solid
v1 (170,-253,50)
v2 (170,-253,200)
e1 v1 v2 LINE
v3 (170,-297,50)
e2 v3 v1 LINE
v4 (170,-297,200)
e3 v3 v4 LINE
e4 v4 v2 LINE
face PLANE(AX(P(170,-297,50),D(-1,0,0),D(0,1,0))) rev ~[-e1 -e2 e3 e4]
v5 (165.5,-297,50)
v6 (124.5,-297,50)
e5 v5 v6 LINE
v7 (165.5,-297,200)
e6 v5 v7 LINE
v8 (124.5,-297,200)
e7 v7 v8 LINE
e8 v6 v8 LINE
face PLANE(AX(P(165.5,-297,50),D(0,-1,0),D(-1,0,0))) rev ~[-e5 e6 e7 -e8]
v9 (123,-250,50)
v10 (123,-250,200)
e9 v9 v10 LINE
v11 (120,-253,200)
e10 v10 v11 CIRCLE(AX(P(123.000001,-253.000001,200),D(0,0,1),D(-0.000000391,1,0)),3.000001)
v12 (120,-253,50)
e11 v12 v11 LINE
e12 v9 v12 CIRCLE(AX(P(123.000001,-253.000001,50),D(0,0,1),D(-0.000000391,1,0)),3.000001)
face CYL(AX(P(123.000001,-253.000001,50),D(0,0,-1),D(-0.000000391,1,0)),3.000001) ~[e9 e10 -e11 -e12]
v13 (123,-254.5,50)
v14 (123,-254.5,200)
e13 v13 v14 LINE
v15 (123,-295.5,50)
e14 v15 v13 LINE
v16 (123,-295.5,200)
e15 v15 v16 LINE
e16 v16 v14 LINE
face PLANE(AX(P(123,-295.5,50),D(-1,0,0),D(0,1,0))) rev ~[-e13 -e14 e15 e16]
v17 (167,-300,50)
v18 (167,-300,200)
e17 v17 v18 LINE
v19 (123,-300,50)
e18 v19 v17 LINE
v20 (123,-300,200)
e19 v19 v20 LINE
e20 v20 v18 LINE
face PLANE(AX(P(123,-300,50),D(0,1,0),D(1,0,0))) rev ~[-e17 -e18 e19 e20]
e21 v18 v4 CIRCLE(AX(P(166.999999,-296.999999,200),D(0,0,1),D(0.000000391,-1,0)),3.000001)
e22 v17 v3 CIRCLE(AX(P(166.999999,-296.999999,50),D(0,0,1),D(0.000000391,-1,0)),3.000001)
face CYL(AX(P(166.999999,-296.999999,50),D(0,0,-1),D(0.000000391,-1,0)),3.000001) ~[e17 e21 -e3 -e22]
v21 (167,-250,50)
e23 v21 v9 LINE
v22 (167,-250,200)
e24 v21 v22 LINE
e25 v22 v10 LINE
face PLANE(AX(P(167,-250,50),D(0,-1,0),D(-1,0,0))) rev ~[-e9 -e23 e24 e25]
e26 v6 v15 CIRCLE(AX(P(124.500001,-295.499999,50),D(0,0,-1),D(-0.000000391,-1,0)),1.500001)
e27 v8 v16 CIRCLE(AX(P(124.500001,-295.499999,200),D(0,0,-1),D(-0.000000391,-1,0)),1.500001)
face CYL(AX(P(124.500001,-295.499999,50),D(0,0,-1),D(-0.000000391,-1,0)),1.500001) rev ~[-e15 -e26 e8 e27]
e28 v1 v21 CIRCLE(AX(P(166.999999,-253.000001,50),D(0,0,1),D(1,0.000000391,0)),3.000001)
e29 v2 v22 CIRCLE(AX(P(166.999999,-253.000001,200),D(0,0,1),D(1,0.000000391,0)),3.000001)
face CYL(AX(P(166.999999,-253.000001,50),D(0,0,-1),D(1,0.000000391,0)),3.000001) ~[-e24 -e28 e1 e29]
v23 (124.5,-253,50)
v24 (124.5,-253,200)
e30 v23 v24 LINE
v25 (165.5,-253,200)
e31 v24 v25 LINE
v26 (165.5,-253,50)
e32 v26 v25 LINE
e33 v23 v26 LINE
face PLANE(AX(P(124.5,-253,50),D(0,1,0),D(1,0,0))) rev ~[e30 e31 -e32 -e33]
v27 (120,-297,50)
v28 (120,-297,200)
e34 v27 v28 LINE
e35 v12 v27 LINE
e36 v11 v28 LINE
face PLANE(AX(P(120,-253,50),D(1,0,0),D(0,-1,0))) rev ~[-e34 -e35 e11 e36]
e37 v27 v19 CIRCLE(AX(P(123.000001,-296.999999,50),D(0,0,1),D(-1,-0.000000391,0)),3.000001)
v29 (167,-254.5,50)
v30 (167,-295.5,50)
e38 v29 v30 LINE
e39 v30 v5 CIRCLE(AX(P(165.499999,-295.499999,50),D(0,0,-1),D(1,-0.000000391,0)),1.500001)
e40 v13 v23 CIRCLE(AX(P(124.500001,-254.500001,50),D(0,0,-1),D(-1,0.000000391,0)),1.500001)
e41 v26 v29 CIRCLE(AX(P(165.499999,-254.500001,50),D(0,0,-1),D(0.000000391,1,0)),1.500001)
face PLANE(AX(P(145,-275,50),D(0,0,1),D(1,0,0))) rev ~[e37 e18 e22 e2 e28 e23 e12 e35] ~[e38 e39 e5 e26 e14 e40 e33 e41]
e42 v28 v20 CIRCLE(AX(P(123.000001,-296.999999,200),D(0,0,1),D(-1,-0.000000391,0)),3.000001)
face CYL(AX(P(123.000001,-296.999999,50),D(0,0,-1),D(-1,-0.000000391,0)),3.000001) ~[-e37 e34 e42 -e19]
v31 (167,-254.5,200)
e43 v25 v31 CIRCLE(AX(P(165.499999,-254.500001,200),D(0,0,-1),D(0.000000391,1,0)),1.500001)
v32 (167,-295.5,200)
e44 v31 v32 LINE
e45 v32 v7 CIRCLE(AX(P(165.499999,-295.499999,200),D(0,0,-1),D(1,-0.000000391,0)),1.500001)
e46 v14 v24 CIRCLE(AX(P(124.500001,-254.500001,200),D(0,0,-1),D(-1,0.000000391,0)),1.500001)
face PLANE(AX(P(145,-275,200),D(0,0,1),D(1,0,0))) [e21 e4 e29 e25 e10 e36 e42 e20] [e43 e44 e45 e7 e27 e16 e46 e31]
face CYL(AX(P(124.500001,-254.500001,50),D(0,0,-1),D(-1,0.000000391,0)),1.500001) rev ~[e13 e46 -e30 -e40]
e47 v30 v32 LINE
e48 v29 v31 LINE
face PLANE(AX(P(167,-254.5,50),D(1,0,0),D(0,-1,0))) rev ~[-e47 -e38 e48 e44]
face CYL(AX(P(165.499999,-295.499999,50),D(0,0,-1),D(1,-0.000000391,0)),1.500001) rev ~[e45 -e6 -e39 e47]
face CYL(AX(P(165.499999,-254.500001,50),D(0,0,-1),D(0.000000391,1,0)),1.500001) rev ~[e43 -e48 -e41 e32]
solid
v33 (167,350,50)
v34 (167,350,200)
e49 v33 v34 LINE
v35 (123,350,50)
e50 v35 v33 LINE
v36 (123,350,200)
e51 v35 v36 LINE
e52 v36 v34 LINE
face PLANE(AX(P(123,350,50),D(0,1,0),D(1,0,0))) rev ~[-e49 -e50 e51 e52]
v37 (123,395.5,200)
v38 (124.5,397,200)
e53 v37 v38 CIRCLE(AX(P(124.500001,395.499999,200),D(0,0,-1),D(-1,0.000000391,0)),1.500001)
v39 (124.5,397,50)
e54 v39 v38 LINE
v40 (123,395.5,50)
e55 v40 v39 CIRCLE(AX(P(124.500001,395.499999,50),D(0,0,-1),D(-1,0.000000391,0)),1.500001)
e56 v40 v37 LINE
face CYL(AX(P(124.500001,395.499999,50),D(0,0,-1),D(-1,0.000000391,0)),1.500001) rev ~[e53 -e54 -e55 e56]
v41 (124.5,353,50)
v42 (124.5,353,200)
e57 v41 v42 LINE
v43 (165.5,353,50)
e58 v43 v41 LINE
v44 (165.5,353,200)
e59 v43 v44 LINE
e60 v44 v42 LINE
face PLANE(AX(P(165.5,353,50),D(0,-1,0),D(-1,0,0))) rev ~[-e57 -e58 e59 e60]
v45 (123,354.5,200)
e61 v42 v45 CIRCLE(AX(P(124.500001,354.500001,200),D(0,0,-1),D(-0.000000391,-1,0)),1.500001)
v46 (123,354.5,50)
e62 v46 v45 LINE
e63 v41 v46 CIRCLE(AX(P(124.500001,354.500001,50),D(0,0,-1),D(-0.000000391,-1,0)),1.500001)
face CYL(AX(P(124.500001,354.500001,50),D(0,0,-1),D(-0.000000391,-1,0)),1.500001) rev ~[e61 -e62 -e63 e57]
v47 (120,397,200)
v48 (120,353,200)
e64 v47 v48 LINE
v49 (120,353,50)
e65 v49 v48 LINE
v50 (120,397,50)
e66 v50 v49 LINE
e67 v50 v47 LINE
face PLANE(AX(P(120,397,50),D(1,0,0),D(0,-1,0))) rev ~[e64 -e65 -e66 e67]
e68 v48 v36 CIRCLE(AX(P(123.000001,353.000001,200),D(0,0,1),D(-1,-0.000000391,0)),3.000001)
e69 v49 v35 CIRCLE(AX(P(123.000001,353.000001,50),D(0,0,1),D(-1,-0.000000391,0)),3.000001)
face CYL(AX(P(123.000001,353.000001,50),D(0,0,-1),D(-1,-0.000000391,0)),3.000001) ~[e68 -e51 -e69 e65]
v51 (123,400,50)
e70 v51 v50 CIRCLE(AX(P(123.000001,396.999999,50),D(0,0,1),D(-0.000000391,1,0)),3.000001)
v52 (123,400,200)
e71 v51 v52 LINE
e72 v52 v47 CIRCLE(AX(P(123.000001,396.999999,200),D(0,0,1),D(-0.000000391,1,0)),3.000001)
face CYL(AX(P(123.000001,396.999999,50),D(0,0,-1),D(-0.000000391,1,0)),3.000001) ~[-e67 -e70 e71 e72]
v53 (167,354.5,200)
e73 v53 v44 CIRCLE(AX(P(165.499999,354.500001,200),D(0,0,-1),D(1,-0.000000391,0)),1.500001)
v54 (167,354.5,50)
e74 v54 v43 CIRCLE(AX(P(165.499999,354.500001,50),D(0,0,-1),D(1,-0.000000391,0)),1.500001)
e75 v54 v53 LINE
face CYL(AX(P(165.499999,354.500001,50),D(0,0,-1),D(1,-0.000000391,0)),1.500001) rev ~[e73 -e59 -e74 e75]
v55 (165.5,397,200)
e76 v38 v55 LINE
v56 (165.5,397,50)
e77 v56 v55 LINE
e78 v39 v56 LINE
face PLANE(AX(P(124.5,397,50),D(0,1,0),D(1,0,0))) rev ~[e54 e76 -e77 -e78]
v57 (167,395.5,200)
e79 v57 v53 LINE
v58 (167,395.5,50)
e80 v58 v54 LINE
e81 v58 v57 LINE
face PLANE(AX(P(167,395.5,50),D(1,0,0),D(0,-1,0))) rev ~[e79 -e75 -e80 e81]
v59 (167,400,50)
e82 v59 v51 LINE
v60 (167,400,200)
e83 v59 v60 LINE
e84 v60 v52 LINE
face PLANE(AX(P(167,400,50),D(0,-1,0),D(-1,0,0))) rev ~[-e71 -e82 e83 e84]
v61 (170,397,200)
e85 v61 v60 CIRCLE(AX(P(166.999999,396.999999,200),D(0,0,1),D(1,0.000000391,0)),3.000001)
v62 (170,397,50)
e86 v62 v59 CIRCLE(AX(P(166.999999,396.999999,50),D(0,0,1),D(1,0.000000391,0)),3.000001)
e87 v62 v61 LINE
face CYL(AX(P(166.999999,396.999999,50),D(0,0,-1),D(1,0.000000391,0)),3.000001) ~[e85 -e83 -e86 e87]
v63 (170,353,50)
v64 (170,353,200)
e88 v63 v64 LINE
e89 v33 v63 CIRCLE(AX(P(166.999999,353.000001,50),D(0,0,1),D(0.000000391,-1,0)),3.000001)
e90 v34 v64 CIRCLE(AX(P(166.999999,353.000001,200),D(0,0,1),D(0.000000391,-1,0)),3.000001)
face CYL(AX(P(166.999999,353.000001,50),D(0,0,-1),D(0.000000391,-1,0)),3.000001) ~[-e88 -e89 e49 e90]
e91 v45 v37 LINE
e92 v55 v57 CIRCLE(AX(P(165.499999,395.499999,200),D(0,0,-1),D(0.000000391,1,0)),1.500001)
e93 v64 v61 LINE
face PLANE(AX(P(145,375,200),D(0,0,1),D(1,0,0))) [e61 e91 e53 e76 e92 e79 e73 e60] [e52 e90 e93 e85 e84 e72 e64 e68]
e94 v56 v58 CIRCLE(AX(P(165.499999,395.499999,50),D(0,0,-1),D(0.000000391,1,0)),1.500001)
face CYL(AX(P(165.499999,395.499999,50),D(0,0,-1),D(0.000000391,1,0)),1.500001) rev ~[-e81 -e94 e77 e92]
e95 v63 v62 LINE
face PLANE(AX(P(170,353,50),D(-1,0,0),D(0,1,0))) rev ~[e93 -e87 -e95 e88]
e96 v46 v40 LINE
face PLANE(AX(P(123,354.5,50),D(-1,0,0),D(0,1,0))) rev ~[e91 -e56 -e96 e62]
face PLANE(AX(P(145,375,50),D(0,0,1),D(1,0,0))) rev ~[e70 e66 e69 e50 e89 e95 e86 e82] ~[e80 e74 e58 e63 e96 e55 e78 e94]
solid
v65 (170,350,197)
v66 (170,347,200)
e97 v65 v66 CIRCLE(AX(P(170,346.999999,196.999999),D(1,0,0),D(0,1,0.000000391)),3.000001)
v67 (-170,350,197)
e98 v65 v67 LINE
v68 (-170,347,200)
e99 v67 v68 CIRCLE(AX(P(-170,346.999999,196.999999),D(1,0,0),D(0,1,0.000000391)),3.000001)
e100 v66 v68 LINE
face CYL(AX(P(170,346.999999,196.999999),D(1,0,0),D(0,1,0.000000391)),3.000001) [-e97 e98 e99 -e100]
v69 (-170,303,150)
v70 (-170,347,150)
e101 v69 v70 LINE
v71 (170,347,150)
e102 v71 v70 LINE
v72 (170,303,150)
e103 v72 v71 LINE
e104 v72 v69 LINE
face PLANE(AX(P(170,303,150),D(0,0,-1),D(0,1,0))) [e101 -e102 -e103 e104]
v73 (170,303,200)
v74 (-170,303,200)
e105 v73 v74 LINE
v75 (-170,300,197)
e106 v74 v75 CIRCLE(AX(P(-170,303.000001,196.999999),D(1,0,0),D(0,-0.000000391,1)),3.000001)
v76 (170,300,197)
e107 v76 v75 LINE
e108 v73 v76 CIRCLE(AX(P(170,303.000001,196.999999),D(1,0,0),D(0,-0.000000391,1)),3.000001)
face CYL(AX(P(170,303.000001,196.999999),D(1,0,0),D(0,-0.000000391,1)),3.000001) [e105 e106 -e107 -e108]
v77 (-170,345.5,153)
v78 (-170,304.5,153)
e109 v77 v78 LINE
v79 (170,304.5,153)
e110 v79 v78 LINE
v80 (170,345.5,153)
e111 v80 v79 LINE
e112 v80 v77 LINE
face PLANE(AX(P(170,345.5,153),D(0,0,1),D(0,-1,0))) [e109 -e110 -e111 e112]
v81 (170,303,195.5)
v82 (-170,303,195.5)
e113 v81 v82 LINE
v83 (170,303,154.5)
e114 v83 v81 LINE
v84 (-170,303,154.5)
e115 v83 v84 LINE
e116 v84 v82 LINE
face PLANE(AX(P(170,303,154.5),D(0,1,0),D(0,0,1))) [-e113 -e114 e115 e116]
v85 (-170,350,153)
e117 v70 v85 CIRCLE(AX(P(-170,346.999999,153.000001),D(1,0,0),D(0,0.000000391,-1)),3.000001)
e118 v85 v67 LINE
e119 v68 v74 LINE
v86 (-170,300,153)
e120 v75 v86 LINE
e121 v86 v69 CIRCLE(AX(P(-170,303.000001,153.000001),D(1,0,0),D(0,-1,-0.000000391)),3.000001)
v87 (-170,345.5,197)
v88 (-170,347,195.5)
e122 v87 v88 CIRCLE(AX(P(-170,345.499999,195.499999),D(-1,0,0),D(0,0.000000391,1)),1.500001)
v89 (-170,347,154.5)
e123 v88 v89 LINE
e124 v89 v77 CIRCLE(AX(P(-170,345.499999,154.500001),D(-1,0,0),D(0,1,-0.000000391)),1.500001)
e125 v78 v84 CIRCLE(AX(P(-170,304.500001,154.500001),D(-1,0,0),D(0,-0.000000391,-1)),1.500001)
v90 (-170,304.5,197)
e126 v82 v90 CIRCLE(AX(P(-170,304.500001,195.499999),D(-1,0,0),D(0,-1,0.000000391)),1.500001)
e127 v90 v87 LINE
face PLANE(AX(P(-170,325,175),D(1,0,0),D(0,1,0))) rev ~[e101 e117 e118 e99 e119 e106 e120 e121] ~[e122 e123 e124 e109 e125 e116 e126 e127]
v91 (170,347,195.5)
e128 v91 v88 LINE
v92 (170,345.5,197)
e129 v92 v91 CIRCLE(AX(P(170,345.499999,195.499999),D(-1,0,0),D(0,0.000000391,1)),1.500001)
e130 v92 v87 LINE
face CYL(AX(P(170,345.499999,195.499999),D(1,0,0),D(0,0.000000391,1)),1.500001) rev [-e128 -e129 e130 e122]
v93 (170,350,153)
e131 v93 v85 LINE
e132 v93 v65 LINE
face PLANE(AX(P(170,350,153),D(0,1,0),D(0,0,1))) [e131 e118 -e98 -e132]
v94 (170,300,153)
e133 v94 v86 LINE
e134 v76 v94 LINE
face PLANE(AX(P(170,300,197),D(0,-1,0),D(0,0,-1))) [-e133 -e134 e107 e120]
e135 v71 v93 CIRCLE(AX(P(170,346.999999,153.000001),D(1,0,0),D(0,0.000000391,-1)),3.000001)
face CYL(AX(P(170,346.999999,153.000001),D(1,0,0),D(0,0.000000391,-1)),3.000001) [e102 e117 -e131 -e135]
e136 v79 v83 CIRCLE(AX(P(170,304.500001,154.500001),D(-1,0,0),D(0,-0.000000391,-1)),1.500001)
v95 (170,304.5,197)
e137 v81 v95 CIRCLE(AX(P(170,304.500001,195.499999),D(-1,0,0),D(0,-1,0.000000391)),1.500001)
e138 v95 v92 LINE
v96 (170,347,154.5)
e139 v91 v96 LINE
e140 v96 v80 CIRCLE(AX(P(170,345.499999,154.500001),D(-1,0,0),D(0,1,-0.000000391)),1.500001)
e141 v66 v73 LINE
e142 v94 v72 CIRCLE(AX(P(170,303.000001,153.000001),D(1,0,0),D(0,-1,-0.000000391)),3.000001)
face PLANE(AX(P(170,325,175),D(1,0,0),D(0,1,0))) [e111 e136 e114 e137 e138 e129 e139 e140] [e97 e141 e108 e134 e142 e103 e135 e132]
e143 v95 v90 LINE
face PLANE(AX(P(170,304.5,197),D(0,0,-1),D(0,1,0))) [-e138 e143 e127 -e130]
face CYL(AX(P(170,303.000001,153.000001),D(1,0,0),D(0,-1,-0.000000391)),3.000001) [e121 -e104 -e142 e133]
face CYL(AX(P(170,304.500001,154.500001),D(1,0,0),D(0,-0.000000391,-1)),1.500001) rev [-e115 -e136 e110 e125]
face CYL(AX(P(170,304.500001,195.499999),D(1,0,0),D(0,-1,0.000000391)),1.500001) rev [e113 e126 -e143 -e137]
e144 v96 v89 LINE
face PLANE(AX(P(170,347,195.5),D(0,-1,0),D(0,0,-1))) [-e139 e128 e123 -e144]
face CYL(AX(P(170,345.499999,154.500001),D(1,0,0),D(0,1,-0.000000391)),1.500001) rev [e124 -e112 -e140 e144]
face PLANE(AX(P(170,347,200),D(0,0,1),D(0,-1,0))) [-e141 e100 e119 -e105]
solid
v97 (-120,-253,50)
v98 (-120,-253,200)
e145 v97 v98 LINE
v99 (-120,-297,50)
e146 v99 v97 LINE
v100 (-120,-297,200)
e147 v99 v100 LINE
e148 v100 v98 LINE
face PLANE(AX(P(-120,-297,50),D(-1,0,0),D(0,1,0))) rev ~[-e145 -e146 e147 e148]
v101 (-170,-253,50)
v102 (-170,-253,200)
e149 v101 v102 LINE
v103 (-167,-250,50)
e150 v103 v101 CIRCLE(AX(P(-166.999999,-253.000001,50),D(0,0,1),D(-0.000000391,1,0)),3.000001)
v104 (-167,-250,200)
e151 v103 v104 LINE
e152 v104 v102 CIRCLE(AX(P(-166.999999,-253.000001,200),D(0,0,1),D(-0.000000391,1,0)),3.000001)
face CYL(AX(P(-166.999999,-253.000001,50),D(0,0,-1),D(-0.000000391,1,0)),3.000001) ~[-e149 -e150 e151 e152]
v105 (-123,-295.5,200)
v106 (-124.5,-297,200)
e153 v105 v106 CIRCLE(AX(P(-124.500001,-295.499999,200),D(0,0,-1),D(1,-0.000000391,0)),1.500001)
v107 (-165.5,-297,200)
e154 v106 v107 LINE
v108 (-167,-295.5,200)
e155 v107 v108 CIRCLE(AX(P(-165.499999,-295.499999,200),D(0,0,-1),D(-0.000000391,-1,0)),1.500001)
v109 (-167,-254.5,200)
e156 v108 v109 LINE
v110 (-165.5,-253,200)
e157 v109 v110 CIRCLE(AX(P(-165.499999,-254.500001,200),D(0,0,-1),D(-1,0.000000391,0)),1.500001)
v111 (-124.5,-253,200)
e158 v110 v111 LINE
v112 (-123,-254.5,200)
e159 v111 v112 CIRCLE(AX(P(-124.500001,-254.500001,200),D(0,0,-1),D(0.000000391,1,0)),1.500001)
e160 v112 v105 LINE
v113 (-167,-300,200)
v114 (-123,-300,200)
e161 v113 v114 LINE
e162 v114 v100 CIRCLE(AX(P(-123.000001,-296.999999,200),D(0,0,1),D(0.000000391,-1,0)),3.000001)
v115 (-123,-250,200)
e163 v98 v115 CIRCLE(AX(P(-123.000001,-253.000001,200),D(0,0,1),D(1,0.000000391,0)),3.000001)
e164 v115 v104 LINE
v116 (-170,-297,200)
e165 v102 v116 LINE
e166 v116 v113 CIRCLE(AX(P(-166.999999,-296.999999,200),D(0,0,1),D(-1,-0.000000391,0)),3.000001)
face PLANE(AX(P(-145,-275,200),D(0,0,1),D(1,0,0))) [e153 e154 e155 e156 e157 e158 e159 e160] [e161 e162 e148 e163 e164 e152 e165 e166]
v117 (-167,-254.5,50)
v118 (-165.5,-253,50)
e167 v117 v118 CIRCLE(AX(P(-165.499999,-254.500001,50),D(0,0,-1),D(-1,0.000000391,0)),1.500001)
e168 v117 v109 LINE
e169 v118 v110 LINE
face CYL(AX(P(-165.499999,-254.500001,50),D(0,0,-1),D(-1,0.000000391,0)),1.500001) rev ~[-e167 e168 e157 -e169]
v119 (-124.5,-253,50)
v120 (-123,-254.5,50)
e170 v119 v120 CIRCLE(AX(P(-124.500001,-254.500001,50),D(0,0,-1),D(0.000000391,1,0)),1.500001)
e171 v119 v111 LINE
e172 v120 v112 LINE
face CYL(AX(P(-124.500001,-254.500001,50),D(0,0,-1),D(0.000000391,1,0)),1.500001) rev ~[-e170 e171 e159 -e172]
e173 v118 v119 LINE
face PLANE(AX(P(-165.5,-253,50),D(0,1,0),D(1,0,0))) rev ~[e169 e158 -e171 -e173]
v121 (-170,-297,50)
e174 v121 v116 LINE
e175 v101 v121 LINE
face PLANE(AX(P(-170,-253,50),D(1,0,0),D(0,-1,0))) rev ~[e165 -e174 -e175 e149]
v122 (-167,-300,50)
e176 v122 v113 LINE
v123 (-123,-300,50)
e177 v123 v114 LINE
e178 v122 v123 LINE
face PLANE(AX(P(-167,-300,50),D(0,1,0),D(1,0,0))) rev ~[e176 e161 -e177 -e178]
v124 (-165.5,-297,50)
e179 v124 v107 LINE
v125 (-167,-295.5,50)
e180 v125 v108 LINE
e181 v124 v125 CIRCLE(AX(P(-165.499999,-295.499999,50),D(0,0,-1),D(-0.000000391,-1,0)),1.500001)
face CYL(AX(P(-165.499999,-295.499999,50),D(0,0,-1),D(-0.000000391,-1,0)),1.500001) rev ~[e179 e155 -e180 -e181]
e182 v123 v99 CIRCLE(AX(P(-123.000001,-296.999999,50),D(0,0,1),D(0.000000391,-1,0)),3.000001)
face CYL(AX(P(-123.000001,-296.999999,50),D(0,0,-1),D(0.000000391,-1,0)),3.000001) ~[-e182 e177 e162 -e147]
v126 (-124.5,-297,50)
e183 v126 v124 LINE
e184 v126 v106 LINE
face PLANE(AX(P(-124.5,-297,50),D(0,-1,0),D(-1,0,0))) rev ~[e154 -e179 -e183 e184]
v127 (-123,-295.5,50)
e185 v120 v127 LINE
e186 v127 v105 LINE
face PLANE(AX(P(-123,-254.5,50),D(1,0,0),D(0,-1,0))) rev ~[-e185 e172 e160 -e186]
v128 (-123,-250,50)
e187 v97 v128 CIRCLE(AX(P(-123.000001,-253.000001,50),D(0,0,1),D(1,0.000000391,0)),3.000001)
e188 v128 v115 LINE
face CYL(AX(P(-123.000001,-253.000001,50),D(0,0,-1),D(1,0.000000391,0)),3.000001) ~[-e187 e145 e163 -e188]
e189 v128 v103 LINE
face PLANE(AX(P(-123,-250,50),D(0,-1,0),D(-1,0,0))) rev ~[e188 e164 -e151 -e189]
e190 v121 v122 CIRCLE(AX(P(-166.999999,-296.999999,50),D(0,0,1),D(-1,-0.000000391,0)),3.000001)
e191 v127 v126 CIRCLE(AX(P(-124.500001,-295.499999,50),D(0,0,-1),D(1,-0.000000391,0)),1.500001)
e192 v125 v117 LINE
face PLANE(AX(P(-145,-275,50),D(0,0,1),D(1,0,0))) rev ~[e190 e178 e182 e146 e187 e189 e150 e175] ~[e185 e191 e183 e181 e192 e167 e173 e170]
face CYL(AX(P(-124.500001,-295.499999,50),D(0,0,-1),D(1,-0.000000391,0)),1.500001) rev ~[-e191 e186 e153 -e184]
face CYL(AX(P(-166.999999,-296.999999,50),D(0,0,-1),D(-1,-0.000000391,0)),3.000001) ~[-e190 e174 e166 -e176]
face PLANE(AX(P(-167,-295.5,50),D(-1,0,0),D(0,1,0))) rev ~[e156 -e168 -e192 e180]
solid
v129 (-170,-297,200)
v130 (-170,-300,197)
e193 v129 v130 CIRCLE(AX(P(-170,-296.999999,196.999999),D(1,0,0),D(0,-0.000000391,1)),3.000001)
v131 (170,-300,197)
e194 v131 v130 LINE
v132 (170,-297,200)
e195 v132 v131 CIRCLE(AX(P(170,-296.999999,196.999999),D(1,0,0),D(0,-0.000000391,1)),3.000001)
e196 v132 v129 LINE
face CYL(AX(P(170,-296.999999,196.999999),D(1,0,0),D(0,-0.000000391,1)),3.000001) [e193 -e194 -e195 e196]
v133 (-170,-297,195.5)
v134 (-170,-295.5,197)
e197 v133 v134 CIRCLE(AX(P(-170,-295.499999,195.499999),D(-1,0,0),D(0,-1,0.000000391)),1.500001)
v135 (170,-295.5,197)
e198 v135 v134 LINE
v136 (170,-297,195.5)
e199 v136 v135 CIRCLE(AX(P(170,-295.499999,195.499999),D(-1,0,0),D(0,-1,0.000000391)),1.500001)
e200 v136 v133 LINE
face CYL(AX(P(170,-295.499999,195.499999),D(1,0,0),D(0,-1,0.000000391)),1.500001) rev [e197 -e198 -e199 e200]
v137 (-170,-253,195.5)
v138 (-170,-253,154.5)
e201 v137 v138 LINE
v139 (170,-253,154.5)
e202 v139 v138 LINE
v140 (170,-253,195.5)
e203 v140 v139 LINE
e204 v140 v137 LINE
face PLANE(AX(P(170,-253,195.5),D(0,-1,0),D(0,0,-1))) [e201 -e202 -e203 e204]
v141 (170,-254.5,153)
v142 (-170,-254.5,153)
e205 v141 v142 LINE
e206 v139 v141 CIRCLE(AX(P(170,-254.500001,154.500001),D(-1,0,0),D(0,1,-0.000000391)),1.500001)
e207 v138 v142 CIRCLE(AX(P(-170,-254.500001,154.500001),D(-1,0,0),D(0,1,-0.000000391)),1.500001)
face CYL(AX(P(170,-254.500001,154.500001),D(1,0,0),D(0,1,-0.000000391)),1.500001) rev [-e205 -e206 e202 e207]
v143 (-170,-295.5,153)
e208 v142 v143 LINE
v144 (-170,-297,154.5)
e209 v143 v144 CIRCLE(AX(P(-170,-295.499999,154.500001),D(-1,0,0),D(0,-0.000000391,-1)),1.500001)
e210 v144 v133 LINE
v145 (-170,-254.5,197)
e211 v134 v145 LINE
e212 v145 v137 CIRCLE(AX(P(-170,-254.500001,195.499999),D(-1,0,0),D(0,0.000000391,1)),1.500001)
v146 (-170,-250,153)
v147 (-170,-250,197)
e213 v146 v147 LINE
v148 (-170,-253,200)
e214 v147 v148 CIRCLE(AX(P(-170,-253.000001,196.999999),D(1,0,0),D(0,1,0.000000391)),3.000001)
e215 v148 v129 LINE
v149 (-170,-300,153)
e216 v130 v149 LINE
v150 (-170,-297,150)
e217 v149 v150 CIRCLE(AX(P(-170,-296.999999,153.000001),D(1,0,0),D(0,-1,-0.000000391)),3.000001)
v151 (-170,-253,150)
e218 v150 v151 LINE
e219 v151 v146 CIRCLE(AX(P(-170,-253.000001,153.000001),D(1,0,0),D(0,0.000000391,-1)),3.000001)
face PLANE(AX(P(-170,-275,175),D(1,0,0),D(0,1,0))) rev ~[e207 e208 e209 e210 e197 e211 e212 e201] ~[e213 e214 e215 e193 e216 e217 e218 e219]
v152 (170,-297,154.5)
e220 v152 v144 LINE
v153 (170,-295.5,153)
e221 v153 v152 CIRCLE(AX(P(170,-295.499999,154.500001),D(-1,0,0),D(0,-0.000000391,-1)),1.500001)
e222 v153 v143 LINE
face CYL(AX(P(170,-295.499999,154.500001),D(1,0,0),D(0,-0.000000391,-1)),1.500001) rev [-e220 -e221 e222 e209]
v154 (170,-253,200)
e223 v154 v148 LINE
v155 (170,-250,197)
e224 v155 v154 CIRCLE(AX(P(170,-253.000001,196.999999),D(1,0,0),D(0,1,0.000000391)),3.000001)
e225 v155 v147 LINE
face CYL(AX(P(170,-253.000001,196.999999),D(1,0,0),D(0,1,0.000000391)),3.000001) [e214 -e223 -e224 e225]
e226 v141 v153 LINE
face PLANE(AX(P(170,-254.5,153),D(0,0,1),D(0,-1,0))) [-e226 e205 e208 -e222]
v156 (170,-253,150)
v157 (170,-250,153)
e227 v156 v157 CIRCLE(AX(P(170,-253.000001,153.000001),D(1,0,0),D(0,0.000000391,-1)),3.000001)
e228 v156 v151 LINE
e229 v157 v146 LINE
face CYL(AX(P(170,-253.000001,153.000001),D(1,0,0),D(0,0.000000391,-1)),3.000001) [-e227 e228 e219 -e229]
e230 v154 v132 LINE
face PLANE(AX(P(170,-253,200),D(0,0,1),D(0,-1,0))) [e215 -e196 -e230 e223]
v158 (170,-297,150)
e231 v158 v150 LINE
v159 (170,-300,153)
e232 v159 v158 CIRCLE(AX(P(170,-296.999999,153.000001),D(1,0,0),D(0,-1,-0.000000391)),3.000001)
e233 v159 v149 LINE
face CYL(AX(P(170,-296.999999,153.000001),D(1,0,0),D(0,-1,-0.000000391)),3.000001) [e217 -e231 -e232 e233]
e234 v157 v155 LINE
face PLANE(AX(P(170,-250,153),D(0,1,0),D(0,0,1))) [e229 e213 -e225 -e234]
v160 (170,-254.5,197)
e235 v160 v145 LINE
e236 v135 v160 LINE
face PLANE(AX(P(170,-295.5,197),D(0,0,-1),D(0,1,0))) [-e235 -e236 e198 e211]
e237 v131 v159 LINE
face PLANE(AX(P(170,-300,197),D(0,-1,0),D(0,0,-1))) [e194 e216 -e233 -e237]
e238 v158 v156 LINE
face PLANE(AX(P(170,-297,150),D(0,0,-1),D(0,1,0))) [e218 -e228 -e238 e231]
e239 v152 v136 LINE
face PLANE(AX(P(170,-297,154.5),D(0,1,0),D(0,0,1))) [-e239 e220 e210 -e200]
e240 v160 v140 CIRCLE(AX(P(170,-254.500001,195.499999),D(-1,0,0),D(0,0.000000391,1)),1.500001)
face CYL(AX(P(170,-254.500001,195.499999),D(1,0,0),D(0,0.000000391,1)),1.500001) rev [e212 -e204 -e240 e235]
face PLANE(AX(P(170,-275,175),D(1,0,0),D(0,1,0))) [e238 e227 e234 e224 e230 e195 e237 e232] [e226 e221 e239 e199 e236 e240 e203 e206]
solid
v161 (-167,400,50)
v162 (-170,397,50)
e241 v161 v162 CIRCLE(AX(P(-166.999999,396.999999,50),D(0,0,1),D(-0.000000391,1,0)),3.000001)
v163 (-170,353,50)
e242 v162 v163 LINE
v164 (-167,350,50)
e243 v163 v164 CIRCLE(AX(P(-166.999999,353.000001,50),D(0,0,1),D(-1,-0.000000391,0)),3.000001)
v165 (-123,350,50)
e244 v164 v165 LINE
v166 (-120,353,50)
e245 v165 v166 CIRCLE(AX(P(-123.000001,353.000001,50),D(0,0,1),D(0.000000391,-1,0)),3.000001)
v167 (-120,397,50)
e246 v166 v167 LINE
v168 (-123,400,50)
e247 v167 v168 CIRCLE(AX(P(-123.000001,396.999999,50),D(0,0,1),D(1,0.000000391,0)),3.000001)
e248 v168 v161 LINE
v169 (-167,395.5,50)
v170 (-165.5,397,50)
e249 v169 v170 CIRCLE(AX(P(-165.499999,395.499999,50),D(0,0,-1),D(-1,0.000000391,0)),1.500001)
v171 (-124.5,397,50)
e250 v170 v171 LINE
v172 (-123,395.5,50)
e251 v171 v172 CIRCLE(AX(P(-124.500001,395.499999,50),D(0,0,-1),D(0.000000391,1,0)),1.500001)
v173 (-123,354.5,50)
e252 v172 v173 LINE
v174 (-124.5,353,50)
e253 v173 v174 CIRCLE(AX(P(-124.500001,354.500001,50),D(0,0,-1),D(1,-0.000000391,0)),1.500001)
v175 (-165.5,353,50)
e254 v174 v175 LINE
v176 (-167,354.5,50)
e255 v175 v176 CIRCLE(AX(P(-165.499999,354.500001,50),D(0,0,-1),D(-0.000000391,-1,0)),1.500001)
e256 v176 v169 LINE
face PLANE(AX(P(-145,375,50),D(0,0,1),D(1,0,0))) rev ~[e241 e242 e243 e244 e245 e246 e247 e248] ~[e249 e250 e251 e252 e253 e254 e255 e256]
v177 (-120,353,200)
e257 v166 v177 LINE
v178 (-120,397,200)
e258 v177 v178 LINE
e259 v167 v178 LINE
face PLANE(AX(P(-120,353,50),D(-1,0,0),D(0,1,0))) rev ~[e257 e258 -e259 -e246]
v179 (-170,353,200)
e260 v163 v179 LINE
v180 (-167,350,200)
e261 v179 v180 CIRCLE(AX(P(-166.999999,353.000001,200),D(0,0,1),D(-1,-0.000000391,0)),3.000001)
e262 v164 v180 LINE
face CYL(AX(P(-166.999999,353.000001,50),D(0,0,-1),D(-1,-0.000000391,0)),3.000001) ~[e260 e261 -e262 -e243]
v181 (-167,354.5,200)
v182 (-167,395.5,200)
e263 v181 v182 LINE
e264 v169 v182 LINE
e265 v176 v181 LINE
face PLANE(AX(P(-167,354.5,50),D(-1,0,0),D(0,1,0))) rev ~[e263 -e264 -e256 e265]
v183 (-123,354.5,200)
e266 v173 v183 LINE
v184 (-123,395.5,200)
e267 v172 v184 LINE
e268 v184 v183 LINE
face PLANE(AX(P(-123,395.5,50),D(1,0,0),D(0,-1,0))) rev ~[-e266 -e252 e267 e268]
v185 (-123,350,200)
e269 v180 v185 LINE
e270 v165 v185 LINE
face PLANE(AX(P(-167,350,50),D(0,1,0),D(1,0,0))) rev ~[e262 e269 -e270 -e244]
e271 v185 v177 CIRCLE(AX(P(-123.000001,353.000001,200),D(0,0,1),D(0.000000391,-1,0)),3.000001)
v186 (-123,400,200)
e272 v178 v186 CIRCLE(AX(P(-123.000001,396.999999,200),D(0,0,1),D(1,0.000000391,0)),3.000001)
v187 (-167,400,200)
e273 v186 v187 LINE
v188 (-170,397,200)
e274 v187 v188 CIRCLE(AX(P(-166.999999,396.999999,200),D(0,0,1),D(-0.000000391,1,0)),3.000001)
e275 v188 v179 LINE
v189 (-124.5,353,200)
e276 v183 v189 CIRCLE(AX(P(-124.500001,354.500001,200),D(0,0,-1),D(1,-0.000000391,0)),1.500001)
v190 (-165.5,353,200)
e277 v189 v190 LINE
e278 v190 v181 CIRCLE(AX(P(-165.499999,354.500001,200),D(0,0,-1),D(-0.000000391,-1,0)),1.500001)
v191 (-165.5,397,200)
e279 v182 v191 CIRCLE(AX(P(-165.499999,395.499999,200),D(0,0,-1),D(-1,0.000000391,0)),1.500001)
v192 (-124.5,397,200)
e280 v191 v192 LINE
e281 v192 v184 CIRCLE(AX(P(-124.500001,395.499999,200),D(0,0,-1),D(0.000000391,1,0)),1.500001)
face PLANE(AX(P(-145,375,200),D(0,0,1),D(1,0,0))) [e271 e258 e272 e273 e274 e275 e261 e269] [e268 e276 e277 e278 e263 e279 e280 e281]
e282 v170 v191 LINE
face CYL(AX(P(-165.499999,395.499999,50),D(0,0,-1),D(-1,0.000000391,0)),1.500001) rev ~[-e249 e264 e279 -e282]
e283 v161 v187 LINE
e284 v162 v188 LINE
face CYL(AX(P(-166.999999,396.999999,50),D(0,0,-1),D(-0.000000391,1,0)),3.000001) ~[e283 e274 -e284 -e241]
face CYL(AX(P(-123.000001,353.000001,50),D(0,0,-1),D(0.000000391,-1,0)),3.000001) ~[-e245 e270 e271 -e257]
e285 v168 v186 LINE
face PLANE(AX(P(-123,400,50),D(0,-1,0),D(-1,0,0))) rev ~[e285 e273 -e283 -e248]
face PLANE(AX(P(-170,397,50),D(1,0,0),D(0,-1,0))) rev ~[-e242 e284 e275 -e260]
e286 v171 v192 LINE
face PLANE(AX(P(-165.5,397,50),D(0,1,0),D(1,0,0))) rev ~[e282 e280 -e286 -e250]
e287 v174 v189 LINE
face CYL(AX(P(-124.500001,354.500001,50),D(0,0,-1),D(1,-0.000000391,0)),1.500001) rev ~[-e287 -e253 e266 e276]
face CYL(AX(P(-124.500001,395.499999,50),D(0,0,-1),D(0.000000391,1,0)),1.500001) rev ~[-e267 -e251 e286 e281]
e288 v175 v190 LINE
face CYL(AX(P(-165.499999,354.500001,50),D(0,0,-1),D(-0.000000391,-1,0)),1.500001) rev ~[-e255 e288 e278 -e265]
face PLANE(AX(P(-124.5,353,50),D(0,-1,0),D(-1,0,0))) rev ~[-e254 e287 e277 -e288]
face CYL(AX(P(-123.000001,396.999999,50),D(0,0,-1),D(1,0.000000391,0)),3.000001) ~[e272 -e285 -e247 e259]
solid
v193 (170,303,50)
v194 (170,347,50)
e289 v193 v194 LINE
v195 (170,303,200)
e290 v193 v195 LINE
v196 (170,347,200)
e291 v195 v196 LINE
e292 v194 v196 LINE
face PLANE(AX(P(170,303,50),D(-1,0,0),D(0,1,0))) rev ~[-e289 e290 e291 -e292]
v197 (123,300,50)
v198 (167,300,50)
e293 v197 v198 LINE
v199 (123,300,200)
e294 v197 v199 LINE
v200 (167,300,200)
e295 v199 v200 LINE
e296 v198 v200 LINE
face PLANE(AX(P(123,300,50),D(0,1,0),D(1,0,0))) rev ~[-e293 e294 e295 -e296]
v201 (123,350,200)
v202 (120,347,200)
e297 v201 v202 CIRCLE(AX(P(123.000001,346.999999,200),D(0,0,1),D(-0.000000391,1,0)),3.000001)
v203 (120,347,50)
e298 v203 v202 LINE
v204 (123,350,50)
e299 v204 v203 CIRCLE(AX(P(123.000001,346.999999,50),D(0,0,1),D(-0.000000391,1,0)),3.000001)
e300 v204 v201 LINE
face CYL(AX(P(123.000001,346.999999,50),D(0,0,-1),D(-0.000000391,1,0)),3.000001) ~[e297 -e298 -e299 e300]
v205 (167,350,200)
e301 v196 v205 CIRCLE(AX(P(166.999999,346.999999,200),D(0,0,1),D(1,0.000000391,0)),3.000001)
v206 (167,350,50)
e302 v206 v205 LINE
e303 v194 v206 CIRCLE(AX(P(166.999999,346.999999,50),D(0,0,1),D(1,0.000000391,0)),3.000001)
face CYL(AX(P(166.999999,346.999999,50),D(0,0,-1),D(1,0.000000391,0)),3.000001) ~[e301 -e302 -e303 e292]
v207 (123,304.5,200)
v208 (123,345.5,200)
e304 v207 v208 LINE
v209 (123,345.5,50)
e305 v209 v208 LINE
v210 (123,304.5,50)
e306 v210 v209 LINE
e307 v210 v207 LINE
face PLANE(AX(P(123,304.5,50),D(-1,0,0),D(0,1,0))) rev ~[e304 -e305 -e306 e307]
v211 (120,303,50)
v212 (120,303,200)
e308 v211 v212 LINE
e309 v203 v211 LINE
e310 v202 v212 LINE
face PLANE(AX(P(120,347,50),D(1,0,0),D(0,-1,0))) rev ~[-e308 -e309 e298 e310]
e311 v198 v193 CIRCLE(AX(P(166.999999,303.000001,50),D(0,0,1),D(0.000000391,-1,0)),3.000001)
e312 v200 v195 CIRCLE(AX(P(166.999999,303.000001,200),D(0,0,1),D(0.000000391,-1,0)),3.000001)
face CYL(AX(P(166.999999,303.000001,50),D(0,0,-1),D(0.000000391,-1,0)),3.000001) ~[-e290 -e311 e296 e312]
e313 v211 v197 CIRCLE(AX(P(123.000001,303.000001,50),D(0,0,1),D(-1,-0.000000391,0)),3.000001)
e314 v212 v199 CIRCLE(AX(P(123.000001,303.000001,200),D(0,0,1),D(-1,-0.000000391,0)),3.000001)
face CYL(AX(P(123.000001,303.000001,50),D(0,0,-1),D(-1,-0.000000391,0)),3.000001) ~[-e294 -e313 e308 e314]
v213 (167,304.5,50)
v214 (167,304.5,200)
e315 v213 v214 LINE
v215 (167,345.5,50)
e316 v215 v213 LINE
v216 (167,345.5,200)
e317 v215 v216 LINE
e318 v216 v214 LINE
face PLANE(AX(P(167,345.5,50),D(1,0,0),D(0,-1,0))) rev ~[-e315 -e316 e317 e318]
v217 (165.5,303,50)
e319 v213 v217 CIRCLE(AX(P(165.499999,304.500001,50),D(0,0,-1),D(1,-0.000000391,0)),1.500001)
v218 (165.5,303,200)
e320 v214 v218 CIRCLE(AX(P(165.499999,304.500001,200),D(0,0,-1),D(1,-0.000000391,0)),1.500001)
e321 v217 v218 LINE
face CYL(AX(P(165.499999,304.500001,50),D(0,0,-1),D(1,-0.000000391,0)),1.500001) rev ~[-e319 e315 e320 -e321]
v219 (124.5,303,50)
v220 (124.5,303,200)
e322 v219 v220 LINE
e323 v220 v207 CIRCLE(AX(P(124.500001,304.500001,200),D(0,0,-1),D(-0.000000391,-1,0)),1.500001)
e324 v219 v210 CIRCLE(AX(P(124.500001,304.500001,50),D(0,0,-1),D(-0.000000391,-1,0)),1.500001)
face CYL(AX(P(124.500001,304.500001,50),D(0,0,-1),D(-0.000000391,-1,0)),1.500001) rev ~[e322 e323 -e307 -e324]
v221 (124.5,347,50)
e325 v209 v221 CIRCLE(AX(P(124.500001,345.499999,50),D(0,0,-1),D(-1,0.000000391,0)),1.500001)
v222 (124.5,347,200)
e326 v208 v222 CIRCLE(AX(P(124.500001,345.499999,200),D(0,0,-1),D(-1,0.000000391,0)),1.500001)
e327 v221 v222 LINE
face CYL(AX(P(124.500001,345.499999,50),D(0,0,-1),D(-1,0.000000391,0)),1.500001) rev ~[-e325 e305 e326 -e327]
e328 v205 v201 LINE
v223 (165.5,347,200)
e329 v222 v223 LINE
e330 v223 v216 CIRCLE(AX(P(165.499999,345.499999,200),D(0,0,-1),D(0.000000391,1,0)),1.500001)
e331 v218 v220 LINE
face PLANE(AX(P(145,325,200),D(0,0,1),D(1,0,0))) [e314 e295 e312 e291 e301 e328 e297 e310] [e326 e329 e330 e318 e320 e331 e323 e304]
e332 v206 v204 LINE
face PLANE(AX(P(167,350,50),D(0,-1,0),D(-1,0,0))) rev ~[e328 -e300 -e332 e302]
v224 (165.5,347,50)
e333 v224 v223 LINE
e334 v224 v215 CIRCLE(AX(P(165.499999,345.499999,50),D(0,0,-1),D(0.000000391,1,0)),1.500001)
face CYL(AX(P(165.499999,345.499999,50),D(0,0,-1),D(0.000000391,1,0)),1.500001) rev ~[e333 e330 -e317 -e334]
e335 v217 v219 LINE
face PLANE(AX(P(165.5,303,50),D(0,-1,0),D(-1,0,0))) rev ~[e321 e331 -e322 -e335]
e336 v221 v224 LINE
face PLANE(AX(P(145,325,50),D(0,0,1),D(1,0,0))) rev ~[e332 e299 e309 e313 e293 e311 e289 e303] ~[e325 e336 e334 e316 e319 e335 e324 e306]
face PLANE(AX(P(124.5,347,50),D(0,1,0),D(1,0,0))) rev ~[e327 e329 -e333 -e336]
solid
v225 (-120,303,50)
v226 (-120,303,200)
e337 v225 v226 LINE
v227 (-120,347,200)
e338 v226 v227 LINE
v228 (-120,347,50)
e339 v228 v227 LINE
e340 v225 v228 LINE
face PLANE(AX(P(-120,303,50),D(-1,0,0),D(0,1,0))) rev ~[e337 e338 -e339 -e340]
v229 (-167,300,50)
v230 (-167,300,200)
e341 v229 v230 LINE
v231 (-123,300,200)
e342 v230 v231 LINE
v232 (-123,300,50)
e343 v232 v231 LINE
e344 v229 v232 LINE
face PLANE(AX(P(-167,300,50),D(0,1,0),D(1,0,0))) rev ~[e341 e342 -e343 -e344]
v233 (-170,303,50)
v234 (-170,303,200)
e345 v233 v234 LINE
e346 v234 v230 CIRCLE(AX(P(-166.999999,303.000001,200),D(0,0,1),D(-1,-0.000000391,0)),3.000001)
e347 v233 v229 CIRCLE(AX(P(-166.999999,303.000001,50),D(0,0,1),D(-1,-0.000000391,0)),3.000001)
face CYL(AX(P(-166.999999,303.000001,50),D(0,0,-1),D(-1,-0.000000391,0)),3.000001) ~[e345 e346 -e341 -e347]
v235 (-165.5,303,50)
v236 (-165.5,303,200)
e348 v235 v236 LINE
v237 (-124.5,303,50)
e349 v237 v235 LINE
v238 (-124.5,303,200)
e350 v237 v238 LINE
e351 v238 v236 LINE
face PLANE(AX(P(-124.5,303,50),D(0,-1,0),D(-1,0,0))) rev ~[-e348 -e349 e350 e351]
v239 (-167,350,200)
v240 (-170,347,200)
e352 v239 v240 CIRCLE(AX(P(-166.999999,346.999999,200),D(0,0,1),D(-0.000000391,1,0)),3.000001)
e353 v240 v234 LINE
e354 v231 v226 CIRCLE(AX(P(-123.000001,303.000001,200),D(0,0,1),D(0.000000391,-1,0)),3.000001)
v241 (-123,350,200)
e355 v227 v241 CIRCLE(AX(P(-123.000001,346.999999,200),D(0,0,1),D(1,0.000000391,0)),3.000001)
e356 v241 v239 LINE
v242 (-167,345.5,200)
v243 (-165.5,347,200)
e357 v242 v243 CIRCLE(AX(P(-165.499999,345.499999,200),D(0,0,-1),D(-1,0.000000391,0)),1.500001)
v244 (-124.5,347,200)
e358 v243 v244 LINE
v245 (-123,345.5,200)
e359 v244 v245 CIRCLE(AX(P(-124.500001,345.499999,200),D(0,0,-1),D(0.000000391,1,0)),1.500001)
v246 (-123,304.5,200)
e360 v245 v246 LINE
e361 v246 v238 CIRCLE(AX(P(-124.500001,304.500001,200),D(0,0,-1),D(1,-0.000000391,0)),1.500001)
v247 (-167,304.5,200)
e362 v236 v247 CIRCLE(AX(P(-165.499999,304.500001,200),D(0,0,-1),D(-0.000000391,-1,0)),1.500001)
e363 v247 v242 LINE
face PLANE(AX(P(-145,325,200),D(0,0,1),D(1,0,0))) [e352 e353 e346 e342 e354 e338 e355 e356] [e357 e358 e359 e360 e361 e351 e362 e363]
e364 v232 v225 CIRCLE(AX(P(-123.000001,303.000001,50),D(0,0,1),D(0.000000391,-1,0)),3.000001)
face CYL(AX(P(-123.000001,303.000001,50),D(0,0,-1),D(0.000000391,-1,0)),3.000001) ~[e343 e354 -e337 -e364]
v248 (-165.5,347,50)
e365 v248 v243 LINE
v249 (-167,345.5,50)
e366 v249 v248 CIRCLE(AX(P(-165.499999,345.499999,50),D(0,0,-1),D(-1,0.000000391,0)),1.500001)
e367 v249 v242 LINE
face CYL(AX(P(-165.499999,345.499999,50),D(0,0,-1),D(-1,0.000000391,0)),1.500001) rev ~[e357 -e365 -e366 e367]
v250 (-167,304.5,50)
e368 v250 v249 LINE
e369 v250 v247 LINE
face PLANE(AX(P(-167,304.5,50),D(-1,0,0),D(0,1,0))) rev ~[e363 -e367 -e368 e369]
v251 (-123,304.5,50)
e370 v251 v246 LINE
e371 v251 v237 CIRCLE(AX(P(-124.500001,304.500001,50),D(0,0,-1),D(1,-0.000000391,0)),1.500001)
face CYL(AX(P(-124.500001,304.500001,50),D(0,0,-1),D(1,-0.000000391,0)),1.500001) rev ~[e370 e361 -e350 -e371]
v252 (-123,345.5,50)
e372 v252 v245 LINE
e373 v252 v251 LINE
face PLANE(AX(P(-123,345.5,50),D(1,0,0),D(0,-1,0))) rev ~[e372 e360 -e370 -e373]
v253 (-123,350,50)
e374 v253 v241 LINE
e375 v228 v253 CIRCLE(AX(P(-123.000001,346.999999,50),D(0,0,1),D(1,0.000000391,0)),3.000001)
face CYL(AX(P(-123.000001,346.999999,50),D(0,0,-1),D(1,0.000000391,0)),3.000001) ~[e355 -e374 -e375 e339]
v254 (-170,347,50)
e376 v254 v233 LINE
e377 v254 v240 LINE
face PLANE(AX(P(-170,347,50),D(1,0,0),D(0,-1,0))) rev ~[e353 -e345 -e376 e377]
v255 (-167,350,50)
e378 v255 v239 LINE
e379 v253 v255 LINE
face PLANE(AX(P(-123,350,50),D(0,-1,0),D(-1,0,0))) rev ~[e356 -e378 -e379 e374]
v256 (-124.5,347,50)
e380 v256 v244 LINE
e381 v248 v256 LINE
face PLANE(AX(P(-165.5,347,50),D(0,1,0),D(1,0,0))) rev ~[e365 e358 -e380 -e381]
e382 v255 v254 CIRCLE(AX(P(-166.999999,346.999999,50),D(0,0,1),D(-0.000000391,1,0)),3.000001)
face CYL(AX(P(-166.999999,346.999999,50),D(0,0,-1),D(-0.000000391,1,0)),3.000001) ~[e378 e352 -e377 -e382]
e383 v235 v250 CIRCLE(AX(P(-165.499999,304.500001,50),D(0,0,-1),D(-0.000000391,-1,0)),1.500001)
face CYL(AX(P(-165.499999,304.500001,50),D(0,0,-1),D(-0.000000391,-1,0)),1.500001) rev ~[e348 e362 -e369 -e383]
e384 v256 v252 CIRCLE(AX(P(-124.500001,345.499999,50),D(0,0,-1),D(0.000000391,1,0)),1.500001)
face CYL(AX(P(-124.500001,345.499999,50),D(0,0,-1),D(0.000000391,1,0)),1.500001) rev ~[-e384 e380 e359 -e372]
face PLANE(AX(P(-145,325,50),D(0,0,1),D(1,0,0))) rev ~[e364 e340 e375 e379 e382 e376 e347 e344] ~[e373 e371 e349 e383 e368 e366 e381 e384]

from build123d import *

# Parameters (mm, degrees)
F2_DEPTH = 150
F5_DEPTH = 340
F7_DEPTH = 150


with BuildPart() as f2:
    # F1 (on offset) → F2 (new body)
    with BuildSketch(Plane.XY.offset(50)):
        with BuildLine():
            ThreePointArc((-170, -297), (-169.12132, -299.12132), (-167, -300))
            Line((-167, -300), (-123, -300))
            ThreePointArc((-123, -300), (-120.87868, -299.12132), (-120, -297))
            Line((-120, -297), (-120, -253))
            ThreePointArc((-120, -253), (-120.87868, -250.87868), (-123, -250))
            Line((-123, -250), (-167, -250))
            ThreePointArc((-167, -250), (-169.12132, -250.87868), (-170, -253))
            Line((-170, -253), (-170, -297))
        make_face()
        with BuildLine():
            Line((-123, -254.5), (-123, -295.5))
            ThreePointArc((-123, -295.5), (-123.43934, -296.56066), (-124.5, -297))
            Line((-124.5, -297), (-165.5, -297))
            ThreePointArc((-165.5, -297), (-166.56066, -296.56066), (-167, -295.5))
            Line((-167, -295.5), (-167, -254.5))
            ThreePointArc((-167, -254.5), (-166.56066, -253.43934), (-165.5, -253))
            Line((-165.5, -253), (-124.5, -253))
            ThreePointArc((-124.5, -253), (-123.43934, -253.43934), (-123, -254.5))
        make_face(mode=Mode.SUBTRACT)
        with BuildLine():
            ThreePointArc((120, -297), (120.87868, -299.12132), (123, -300))
            Line((123, -300), (167, -300))
            ThreePointArc((167, -300), (169.12132, -299.12132), (170, -297))
            Line((170, -297), (170, -253))
            ThreePointArc((170, -253), (169.12132, -250.87868), (167, -250))
            Line((167, -250), (123, -250))
            ThreePointArc((123, -250), (120.87868, -250.87868), (120, -253))
            Line((120, -253), (120, -297))
        make_face()
        with BuildLine():
            Line((167, -254.5), (167, -295.5))
            ThreePointArc((167, -295.5), (166.56066, -296.56066), (165.5, -297))
            Line((165.5, -297), (124.5, -297))
            ThreePointArc((124.5, -297), (123.43934, -296.56066), (123, -295.5))
            Line((123, -295.5), (123, -254.5))
            ThreePointArc((123, -254.5), (123.43934, -253.43934), (124.5, -253))
            Line((124.5, -253), (165.5, -253))
            ThreePointArc((165.5, -253), (166.56066, -253.43934), (167, -254.5))
        make_face(mode=Mode.SUBTRACT)
        with BuildLine():
            ThreePointArc((-170, 303), (-169.12132, 300.87868), (-167, 300))
            Line((-167, 300), (-123, 300))
            ThreePointArc((-123, 300), (-120.87868, 300.87868), (-120, 303))
            Line((-120, 303), (-120, 347))
            ThreePointArc((-120, 347), (-120.87868, 349.12132), (-123, 350))
            Line((-123, 350), (-167, 350))
            ThreePointArc((-167, 350), (-169.12132, 349.12132), (-170, 347))
            Line((-170, 347), (-170, 303))
        make_face()
        with BuildLine():
            ThreePointArc((-165.5, 303), (-166.56066, 303.43934), (-167, 304.5))
            Line((-167, 304.5), (-167, 345.5))
            ThreePointArc((-167, 345.5), (-166.56066, 346.56066), (-165.5, 347))
            Line((-165.5, 347), (-124.5, 347))
            ThreePointArc((-124.5, 347), (-123.43934, 346.56066), (-123, 345.5))
            Line((-123, 345.5), (-123, 304.5))
            ThreePointArc((-123, 304.5), (-123.43934, 303.43934), (-124.5, 303))
            Line((-124.5, 303), (-165.5, 303))
        make_face(mode=Mode.SUBTRACT)
        with BuildLine():
            ThreePointArc((120, 303), (120.87868, 300.87868), (123, 300))
            Line((123, 300), (167, 300))
            ThreePointArc((167, 300), (169.12132, 300.87868), (170, 303))
            Line((170, 303), (170, 347))
            ThreePointArc((170, 347), (169.12132, 349.12132), (167, 350))
            Line((167, 350), (123, 350))
            ThreePointArc((123, 350), (120.87868, 349.12132), (120, 347))
            Line((120, 347), (120, 303))
        make_face()
        with BuildLine():
            Line((167, 345.5), (167, 304.5))
            ThreePointArc((167, 304.5), (166.56066, 303.43934), (165.5, 303))
            Line((165.5, 303), (124.5, 303))
            ThreePointArc((124.5, 303), (123.43934, 303.43934), (123, 304.5))
            Line((123, 304.5), (123, 345.5))
            ThreePointArc((123, 345.5), (123.43934, 346.56066), (124.5, 347))
            Line((124.5, 347), (165.5, 347))
            ThreePointArc((165.5, 347), (166.56066, 346.56066), (167, 345.5))
        make_face(mode=Mode.SUBTRACT)
    extrude(amount=F2_DEPTH)


with BuildPart() as f5:
    # F4 (on offset) → F5 (new body)
    with BuildSketch(Plane.YZ.offset(170)):
        with BuildLine():
            Line((-253, 200), (-297, 200))
            ThreePointArc((-297, 200), (-299.12132, 199.12132), (-300, 197))
            Line((-300, 197), (-300, 153))
            ThreePointArc((-300, 153), (-299.12132, 150.87868), (-297, 150))
            Line((-297, 150), (-253, 150))
            ThreePointArc((-253, 150), (-250.87868, 150.87868), (-250, 153))
            Line((-250, 153), (-250, 197))
            ThreePointArc((-250, 197), (-250.87868, 199.12132), (-253, 200))
        make_face()
        with BuildLine():
            Line((-297, 154.5), (-297, 195.5))
            ThreePointArc((-297, 195.5), (-296.56066, 196.56066), (-295.5, 197))
            Line((-295.5, 197), (-254.5, 197))
            ThreePointArc((-254.5, 197), (-253.43934, 196.56066), (-253, 195.5))
            Line((-253, 195.5), (-253, 154.5))
            ThreePointArc((-253, 154.5), (-253.43934, 153.43934), (-254.5, 153))
            Line((-254.5, 153), (-295.5, 153))
            ThreePointArc((-295.5, 153), (-296.56066, 153.43934), (-297, 154.5))
        make_face(mode=Mode.SUBTRACT)
        with BuildLine():
            Line((347, 200), (303, 200))
            ThreePointArc((303, 200), (300.87868, 199.12132), (300, 197))
            Line((300, 197), (300, 153))
            ThreePointArc((300, 153), (300.87868, 150.87868), (303, 150))
            Line((303, 150), (347, 150))
            ThreePointArc((347, 150), (349.12132, 150.87868), (350, 153))
            Line((350, 153), (350, 197))
            ThreePointArc((350, 197), (349.12132, 199.12132), (347, 200))
        make_face()
        with BuildLine():
            Line((303, 154.5), (303, 195.5))
            ThreePointArc((303, 195.5), (303.43934, 196.56066), (304.5, 197))
            Line((304.5, 197), (345.5, 197))
            ThreePointArc((345.5, 197), (346.56066, 196.56066), (347, 195.5))
            Line((347, 195.5), (347, 154.5))
            ThreePointArc((347, 154.5), (346.56066, 153.43934), (345.5, 153))
            Line((345.5, 153), (304.5, 153))
            ThreePointArc((304.5, 153), (303.43934, 153.43934), (303, 154.5))
        make_face(mode=Mode.SUBTRACT)
    extrude(amount=-F5_DEPTH)


with BuildPart() as f7:
    # F6 (on offset) → F7 (new body)
    with BuildSketch(Plane.XY.offset(50)):
        with BuildLine():
            Line((-123, 400), (-167, 400))
            ThreePointArc((-167, 400), (-169.12132, 399.12132), (-170, 397))
            Line((-170, 397), (-170, 353))
            ThreePointArc((-170, 353), (-169.12132, 350.87868), (-167, 350))
            Line((-167, 350), (-123, 350))
            ThreePointArc((-123, 350), (-120.87868, 350.87868), (-120, 353))
            Line((-120, 353), (-120, 397))
            ThreePointArc((-120, 397), (-120.87868, 399.12132), (-123, 400))
        make_face()
        with BuildLine():
            Line((-124.5, 353), (-165.5, 353))
            ThreePointArc((-165.5, 353), (-166.56066, 353.43934), (-167, 354.5))
            Line((-167, 354.5), (-167, 395.5))
            ThreePointArc((-167, 395.5), (-166.56066, 396.56066), (-165.5, 397))
            Line((-165.5, 397), (-124.5, 397))
            ThreePointArc((-124.5, 397), (-123.43934, 396.56066), (-123, 395.5))
            Line((-123, 395.5), (-123, 354.5))
            ThreePointArc((-123, 354.5), (-123.43934, 353.43934), (-124.5, 353))
        make_face(mode=Mode.SUBTRACT)
        with BuildLine():
            ThreePointArc((120, 353), (120.87868, 350.87868), (123, 350))
            Line((123, 350), (167, 350))
            ThreePointArc((167, 350), (169.12132, 350.87868), (170, 353))
            Line((170, 353), (170, 397))
            ThreePointArc((170, 397), (169.12132, 399.12132), (167, 400))
            Line((167, 400), (123, 400))
            ThreePointArc((123, 400), (120.87868, 399.12132), (120, 397))
            Line((120, 397), (120, 353))
        make_face()
        with BuildLine():
            Line((165.5, 353), (124.5, 353))
            ThreePointArc((124.5, 353), (123.43934, 353.43934), (123, 354.5))
            Line((123, 354.5), (123, 395.5))
            ThreePointArc((123, 395.5), (123.43934, 396.56066), (124.5, 397))
            Line((124.5, 397), (165.5, 397))
            ThreePointArc((165.5, 397), (166.56066, 396.56066), (167, 395.5))
            Line((167, 395.5), (167, 354.5))
            ThreePointArc((167, 354.5), (166.56066, 353.43934), (165.5, 353))
        make_face(mode=Mode.SUBTRACT)
    extrude(amount=F7_DEPTH)


solid = Compound([f2.part, f5.part, f7.part])
